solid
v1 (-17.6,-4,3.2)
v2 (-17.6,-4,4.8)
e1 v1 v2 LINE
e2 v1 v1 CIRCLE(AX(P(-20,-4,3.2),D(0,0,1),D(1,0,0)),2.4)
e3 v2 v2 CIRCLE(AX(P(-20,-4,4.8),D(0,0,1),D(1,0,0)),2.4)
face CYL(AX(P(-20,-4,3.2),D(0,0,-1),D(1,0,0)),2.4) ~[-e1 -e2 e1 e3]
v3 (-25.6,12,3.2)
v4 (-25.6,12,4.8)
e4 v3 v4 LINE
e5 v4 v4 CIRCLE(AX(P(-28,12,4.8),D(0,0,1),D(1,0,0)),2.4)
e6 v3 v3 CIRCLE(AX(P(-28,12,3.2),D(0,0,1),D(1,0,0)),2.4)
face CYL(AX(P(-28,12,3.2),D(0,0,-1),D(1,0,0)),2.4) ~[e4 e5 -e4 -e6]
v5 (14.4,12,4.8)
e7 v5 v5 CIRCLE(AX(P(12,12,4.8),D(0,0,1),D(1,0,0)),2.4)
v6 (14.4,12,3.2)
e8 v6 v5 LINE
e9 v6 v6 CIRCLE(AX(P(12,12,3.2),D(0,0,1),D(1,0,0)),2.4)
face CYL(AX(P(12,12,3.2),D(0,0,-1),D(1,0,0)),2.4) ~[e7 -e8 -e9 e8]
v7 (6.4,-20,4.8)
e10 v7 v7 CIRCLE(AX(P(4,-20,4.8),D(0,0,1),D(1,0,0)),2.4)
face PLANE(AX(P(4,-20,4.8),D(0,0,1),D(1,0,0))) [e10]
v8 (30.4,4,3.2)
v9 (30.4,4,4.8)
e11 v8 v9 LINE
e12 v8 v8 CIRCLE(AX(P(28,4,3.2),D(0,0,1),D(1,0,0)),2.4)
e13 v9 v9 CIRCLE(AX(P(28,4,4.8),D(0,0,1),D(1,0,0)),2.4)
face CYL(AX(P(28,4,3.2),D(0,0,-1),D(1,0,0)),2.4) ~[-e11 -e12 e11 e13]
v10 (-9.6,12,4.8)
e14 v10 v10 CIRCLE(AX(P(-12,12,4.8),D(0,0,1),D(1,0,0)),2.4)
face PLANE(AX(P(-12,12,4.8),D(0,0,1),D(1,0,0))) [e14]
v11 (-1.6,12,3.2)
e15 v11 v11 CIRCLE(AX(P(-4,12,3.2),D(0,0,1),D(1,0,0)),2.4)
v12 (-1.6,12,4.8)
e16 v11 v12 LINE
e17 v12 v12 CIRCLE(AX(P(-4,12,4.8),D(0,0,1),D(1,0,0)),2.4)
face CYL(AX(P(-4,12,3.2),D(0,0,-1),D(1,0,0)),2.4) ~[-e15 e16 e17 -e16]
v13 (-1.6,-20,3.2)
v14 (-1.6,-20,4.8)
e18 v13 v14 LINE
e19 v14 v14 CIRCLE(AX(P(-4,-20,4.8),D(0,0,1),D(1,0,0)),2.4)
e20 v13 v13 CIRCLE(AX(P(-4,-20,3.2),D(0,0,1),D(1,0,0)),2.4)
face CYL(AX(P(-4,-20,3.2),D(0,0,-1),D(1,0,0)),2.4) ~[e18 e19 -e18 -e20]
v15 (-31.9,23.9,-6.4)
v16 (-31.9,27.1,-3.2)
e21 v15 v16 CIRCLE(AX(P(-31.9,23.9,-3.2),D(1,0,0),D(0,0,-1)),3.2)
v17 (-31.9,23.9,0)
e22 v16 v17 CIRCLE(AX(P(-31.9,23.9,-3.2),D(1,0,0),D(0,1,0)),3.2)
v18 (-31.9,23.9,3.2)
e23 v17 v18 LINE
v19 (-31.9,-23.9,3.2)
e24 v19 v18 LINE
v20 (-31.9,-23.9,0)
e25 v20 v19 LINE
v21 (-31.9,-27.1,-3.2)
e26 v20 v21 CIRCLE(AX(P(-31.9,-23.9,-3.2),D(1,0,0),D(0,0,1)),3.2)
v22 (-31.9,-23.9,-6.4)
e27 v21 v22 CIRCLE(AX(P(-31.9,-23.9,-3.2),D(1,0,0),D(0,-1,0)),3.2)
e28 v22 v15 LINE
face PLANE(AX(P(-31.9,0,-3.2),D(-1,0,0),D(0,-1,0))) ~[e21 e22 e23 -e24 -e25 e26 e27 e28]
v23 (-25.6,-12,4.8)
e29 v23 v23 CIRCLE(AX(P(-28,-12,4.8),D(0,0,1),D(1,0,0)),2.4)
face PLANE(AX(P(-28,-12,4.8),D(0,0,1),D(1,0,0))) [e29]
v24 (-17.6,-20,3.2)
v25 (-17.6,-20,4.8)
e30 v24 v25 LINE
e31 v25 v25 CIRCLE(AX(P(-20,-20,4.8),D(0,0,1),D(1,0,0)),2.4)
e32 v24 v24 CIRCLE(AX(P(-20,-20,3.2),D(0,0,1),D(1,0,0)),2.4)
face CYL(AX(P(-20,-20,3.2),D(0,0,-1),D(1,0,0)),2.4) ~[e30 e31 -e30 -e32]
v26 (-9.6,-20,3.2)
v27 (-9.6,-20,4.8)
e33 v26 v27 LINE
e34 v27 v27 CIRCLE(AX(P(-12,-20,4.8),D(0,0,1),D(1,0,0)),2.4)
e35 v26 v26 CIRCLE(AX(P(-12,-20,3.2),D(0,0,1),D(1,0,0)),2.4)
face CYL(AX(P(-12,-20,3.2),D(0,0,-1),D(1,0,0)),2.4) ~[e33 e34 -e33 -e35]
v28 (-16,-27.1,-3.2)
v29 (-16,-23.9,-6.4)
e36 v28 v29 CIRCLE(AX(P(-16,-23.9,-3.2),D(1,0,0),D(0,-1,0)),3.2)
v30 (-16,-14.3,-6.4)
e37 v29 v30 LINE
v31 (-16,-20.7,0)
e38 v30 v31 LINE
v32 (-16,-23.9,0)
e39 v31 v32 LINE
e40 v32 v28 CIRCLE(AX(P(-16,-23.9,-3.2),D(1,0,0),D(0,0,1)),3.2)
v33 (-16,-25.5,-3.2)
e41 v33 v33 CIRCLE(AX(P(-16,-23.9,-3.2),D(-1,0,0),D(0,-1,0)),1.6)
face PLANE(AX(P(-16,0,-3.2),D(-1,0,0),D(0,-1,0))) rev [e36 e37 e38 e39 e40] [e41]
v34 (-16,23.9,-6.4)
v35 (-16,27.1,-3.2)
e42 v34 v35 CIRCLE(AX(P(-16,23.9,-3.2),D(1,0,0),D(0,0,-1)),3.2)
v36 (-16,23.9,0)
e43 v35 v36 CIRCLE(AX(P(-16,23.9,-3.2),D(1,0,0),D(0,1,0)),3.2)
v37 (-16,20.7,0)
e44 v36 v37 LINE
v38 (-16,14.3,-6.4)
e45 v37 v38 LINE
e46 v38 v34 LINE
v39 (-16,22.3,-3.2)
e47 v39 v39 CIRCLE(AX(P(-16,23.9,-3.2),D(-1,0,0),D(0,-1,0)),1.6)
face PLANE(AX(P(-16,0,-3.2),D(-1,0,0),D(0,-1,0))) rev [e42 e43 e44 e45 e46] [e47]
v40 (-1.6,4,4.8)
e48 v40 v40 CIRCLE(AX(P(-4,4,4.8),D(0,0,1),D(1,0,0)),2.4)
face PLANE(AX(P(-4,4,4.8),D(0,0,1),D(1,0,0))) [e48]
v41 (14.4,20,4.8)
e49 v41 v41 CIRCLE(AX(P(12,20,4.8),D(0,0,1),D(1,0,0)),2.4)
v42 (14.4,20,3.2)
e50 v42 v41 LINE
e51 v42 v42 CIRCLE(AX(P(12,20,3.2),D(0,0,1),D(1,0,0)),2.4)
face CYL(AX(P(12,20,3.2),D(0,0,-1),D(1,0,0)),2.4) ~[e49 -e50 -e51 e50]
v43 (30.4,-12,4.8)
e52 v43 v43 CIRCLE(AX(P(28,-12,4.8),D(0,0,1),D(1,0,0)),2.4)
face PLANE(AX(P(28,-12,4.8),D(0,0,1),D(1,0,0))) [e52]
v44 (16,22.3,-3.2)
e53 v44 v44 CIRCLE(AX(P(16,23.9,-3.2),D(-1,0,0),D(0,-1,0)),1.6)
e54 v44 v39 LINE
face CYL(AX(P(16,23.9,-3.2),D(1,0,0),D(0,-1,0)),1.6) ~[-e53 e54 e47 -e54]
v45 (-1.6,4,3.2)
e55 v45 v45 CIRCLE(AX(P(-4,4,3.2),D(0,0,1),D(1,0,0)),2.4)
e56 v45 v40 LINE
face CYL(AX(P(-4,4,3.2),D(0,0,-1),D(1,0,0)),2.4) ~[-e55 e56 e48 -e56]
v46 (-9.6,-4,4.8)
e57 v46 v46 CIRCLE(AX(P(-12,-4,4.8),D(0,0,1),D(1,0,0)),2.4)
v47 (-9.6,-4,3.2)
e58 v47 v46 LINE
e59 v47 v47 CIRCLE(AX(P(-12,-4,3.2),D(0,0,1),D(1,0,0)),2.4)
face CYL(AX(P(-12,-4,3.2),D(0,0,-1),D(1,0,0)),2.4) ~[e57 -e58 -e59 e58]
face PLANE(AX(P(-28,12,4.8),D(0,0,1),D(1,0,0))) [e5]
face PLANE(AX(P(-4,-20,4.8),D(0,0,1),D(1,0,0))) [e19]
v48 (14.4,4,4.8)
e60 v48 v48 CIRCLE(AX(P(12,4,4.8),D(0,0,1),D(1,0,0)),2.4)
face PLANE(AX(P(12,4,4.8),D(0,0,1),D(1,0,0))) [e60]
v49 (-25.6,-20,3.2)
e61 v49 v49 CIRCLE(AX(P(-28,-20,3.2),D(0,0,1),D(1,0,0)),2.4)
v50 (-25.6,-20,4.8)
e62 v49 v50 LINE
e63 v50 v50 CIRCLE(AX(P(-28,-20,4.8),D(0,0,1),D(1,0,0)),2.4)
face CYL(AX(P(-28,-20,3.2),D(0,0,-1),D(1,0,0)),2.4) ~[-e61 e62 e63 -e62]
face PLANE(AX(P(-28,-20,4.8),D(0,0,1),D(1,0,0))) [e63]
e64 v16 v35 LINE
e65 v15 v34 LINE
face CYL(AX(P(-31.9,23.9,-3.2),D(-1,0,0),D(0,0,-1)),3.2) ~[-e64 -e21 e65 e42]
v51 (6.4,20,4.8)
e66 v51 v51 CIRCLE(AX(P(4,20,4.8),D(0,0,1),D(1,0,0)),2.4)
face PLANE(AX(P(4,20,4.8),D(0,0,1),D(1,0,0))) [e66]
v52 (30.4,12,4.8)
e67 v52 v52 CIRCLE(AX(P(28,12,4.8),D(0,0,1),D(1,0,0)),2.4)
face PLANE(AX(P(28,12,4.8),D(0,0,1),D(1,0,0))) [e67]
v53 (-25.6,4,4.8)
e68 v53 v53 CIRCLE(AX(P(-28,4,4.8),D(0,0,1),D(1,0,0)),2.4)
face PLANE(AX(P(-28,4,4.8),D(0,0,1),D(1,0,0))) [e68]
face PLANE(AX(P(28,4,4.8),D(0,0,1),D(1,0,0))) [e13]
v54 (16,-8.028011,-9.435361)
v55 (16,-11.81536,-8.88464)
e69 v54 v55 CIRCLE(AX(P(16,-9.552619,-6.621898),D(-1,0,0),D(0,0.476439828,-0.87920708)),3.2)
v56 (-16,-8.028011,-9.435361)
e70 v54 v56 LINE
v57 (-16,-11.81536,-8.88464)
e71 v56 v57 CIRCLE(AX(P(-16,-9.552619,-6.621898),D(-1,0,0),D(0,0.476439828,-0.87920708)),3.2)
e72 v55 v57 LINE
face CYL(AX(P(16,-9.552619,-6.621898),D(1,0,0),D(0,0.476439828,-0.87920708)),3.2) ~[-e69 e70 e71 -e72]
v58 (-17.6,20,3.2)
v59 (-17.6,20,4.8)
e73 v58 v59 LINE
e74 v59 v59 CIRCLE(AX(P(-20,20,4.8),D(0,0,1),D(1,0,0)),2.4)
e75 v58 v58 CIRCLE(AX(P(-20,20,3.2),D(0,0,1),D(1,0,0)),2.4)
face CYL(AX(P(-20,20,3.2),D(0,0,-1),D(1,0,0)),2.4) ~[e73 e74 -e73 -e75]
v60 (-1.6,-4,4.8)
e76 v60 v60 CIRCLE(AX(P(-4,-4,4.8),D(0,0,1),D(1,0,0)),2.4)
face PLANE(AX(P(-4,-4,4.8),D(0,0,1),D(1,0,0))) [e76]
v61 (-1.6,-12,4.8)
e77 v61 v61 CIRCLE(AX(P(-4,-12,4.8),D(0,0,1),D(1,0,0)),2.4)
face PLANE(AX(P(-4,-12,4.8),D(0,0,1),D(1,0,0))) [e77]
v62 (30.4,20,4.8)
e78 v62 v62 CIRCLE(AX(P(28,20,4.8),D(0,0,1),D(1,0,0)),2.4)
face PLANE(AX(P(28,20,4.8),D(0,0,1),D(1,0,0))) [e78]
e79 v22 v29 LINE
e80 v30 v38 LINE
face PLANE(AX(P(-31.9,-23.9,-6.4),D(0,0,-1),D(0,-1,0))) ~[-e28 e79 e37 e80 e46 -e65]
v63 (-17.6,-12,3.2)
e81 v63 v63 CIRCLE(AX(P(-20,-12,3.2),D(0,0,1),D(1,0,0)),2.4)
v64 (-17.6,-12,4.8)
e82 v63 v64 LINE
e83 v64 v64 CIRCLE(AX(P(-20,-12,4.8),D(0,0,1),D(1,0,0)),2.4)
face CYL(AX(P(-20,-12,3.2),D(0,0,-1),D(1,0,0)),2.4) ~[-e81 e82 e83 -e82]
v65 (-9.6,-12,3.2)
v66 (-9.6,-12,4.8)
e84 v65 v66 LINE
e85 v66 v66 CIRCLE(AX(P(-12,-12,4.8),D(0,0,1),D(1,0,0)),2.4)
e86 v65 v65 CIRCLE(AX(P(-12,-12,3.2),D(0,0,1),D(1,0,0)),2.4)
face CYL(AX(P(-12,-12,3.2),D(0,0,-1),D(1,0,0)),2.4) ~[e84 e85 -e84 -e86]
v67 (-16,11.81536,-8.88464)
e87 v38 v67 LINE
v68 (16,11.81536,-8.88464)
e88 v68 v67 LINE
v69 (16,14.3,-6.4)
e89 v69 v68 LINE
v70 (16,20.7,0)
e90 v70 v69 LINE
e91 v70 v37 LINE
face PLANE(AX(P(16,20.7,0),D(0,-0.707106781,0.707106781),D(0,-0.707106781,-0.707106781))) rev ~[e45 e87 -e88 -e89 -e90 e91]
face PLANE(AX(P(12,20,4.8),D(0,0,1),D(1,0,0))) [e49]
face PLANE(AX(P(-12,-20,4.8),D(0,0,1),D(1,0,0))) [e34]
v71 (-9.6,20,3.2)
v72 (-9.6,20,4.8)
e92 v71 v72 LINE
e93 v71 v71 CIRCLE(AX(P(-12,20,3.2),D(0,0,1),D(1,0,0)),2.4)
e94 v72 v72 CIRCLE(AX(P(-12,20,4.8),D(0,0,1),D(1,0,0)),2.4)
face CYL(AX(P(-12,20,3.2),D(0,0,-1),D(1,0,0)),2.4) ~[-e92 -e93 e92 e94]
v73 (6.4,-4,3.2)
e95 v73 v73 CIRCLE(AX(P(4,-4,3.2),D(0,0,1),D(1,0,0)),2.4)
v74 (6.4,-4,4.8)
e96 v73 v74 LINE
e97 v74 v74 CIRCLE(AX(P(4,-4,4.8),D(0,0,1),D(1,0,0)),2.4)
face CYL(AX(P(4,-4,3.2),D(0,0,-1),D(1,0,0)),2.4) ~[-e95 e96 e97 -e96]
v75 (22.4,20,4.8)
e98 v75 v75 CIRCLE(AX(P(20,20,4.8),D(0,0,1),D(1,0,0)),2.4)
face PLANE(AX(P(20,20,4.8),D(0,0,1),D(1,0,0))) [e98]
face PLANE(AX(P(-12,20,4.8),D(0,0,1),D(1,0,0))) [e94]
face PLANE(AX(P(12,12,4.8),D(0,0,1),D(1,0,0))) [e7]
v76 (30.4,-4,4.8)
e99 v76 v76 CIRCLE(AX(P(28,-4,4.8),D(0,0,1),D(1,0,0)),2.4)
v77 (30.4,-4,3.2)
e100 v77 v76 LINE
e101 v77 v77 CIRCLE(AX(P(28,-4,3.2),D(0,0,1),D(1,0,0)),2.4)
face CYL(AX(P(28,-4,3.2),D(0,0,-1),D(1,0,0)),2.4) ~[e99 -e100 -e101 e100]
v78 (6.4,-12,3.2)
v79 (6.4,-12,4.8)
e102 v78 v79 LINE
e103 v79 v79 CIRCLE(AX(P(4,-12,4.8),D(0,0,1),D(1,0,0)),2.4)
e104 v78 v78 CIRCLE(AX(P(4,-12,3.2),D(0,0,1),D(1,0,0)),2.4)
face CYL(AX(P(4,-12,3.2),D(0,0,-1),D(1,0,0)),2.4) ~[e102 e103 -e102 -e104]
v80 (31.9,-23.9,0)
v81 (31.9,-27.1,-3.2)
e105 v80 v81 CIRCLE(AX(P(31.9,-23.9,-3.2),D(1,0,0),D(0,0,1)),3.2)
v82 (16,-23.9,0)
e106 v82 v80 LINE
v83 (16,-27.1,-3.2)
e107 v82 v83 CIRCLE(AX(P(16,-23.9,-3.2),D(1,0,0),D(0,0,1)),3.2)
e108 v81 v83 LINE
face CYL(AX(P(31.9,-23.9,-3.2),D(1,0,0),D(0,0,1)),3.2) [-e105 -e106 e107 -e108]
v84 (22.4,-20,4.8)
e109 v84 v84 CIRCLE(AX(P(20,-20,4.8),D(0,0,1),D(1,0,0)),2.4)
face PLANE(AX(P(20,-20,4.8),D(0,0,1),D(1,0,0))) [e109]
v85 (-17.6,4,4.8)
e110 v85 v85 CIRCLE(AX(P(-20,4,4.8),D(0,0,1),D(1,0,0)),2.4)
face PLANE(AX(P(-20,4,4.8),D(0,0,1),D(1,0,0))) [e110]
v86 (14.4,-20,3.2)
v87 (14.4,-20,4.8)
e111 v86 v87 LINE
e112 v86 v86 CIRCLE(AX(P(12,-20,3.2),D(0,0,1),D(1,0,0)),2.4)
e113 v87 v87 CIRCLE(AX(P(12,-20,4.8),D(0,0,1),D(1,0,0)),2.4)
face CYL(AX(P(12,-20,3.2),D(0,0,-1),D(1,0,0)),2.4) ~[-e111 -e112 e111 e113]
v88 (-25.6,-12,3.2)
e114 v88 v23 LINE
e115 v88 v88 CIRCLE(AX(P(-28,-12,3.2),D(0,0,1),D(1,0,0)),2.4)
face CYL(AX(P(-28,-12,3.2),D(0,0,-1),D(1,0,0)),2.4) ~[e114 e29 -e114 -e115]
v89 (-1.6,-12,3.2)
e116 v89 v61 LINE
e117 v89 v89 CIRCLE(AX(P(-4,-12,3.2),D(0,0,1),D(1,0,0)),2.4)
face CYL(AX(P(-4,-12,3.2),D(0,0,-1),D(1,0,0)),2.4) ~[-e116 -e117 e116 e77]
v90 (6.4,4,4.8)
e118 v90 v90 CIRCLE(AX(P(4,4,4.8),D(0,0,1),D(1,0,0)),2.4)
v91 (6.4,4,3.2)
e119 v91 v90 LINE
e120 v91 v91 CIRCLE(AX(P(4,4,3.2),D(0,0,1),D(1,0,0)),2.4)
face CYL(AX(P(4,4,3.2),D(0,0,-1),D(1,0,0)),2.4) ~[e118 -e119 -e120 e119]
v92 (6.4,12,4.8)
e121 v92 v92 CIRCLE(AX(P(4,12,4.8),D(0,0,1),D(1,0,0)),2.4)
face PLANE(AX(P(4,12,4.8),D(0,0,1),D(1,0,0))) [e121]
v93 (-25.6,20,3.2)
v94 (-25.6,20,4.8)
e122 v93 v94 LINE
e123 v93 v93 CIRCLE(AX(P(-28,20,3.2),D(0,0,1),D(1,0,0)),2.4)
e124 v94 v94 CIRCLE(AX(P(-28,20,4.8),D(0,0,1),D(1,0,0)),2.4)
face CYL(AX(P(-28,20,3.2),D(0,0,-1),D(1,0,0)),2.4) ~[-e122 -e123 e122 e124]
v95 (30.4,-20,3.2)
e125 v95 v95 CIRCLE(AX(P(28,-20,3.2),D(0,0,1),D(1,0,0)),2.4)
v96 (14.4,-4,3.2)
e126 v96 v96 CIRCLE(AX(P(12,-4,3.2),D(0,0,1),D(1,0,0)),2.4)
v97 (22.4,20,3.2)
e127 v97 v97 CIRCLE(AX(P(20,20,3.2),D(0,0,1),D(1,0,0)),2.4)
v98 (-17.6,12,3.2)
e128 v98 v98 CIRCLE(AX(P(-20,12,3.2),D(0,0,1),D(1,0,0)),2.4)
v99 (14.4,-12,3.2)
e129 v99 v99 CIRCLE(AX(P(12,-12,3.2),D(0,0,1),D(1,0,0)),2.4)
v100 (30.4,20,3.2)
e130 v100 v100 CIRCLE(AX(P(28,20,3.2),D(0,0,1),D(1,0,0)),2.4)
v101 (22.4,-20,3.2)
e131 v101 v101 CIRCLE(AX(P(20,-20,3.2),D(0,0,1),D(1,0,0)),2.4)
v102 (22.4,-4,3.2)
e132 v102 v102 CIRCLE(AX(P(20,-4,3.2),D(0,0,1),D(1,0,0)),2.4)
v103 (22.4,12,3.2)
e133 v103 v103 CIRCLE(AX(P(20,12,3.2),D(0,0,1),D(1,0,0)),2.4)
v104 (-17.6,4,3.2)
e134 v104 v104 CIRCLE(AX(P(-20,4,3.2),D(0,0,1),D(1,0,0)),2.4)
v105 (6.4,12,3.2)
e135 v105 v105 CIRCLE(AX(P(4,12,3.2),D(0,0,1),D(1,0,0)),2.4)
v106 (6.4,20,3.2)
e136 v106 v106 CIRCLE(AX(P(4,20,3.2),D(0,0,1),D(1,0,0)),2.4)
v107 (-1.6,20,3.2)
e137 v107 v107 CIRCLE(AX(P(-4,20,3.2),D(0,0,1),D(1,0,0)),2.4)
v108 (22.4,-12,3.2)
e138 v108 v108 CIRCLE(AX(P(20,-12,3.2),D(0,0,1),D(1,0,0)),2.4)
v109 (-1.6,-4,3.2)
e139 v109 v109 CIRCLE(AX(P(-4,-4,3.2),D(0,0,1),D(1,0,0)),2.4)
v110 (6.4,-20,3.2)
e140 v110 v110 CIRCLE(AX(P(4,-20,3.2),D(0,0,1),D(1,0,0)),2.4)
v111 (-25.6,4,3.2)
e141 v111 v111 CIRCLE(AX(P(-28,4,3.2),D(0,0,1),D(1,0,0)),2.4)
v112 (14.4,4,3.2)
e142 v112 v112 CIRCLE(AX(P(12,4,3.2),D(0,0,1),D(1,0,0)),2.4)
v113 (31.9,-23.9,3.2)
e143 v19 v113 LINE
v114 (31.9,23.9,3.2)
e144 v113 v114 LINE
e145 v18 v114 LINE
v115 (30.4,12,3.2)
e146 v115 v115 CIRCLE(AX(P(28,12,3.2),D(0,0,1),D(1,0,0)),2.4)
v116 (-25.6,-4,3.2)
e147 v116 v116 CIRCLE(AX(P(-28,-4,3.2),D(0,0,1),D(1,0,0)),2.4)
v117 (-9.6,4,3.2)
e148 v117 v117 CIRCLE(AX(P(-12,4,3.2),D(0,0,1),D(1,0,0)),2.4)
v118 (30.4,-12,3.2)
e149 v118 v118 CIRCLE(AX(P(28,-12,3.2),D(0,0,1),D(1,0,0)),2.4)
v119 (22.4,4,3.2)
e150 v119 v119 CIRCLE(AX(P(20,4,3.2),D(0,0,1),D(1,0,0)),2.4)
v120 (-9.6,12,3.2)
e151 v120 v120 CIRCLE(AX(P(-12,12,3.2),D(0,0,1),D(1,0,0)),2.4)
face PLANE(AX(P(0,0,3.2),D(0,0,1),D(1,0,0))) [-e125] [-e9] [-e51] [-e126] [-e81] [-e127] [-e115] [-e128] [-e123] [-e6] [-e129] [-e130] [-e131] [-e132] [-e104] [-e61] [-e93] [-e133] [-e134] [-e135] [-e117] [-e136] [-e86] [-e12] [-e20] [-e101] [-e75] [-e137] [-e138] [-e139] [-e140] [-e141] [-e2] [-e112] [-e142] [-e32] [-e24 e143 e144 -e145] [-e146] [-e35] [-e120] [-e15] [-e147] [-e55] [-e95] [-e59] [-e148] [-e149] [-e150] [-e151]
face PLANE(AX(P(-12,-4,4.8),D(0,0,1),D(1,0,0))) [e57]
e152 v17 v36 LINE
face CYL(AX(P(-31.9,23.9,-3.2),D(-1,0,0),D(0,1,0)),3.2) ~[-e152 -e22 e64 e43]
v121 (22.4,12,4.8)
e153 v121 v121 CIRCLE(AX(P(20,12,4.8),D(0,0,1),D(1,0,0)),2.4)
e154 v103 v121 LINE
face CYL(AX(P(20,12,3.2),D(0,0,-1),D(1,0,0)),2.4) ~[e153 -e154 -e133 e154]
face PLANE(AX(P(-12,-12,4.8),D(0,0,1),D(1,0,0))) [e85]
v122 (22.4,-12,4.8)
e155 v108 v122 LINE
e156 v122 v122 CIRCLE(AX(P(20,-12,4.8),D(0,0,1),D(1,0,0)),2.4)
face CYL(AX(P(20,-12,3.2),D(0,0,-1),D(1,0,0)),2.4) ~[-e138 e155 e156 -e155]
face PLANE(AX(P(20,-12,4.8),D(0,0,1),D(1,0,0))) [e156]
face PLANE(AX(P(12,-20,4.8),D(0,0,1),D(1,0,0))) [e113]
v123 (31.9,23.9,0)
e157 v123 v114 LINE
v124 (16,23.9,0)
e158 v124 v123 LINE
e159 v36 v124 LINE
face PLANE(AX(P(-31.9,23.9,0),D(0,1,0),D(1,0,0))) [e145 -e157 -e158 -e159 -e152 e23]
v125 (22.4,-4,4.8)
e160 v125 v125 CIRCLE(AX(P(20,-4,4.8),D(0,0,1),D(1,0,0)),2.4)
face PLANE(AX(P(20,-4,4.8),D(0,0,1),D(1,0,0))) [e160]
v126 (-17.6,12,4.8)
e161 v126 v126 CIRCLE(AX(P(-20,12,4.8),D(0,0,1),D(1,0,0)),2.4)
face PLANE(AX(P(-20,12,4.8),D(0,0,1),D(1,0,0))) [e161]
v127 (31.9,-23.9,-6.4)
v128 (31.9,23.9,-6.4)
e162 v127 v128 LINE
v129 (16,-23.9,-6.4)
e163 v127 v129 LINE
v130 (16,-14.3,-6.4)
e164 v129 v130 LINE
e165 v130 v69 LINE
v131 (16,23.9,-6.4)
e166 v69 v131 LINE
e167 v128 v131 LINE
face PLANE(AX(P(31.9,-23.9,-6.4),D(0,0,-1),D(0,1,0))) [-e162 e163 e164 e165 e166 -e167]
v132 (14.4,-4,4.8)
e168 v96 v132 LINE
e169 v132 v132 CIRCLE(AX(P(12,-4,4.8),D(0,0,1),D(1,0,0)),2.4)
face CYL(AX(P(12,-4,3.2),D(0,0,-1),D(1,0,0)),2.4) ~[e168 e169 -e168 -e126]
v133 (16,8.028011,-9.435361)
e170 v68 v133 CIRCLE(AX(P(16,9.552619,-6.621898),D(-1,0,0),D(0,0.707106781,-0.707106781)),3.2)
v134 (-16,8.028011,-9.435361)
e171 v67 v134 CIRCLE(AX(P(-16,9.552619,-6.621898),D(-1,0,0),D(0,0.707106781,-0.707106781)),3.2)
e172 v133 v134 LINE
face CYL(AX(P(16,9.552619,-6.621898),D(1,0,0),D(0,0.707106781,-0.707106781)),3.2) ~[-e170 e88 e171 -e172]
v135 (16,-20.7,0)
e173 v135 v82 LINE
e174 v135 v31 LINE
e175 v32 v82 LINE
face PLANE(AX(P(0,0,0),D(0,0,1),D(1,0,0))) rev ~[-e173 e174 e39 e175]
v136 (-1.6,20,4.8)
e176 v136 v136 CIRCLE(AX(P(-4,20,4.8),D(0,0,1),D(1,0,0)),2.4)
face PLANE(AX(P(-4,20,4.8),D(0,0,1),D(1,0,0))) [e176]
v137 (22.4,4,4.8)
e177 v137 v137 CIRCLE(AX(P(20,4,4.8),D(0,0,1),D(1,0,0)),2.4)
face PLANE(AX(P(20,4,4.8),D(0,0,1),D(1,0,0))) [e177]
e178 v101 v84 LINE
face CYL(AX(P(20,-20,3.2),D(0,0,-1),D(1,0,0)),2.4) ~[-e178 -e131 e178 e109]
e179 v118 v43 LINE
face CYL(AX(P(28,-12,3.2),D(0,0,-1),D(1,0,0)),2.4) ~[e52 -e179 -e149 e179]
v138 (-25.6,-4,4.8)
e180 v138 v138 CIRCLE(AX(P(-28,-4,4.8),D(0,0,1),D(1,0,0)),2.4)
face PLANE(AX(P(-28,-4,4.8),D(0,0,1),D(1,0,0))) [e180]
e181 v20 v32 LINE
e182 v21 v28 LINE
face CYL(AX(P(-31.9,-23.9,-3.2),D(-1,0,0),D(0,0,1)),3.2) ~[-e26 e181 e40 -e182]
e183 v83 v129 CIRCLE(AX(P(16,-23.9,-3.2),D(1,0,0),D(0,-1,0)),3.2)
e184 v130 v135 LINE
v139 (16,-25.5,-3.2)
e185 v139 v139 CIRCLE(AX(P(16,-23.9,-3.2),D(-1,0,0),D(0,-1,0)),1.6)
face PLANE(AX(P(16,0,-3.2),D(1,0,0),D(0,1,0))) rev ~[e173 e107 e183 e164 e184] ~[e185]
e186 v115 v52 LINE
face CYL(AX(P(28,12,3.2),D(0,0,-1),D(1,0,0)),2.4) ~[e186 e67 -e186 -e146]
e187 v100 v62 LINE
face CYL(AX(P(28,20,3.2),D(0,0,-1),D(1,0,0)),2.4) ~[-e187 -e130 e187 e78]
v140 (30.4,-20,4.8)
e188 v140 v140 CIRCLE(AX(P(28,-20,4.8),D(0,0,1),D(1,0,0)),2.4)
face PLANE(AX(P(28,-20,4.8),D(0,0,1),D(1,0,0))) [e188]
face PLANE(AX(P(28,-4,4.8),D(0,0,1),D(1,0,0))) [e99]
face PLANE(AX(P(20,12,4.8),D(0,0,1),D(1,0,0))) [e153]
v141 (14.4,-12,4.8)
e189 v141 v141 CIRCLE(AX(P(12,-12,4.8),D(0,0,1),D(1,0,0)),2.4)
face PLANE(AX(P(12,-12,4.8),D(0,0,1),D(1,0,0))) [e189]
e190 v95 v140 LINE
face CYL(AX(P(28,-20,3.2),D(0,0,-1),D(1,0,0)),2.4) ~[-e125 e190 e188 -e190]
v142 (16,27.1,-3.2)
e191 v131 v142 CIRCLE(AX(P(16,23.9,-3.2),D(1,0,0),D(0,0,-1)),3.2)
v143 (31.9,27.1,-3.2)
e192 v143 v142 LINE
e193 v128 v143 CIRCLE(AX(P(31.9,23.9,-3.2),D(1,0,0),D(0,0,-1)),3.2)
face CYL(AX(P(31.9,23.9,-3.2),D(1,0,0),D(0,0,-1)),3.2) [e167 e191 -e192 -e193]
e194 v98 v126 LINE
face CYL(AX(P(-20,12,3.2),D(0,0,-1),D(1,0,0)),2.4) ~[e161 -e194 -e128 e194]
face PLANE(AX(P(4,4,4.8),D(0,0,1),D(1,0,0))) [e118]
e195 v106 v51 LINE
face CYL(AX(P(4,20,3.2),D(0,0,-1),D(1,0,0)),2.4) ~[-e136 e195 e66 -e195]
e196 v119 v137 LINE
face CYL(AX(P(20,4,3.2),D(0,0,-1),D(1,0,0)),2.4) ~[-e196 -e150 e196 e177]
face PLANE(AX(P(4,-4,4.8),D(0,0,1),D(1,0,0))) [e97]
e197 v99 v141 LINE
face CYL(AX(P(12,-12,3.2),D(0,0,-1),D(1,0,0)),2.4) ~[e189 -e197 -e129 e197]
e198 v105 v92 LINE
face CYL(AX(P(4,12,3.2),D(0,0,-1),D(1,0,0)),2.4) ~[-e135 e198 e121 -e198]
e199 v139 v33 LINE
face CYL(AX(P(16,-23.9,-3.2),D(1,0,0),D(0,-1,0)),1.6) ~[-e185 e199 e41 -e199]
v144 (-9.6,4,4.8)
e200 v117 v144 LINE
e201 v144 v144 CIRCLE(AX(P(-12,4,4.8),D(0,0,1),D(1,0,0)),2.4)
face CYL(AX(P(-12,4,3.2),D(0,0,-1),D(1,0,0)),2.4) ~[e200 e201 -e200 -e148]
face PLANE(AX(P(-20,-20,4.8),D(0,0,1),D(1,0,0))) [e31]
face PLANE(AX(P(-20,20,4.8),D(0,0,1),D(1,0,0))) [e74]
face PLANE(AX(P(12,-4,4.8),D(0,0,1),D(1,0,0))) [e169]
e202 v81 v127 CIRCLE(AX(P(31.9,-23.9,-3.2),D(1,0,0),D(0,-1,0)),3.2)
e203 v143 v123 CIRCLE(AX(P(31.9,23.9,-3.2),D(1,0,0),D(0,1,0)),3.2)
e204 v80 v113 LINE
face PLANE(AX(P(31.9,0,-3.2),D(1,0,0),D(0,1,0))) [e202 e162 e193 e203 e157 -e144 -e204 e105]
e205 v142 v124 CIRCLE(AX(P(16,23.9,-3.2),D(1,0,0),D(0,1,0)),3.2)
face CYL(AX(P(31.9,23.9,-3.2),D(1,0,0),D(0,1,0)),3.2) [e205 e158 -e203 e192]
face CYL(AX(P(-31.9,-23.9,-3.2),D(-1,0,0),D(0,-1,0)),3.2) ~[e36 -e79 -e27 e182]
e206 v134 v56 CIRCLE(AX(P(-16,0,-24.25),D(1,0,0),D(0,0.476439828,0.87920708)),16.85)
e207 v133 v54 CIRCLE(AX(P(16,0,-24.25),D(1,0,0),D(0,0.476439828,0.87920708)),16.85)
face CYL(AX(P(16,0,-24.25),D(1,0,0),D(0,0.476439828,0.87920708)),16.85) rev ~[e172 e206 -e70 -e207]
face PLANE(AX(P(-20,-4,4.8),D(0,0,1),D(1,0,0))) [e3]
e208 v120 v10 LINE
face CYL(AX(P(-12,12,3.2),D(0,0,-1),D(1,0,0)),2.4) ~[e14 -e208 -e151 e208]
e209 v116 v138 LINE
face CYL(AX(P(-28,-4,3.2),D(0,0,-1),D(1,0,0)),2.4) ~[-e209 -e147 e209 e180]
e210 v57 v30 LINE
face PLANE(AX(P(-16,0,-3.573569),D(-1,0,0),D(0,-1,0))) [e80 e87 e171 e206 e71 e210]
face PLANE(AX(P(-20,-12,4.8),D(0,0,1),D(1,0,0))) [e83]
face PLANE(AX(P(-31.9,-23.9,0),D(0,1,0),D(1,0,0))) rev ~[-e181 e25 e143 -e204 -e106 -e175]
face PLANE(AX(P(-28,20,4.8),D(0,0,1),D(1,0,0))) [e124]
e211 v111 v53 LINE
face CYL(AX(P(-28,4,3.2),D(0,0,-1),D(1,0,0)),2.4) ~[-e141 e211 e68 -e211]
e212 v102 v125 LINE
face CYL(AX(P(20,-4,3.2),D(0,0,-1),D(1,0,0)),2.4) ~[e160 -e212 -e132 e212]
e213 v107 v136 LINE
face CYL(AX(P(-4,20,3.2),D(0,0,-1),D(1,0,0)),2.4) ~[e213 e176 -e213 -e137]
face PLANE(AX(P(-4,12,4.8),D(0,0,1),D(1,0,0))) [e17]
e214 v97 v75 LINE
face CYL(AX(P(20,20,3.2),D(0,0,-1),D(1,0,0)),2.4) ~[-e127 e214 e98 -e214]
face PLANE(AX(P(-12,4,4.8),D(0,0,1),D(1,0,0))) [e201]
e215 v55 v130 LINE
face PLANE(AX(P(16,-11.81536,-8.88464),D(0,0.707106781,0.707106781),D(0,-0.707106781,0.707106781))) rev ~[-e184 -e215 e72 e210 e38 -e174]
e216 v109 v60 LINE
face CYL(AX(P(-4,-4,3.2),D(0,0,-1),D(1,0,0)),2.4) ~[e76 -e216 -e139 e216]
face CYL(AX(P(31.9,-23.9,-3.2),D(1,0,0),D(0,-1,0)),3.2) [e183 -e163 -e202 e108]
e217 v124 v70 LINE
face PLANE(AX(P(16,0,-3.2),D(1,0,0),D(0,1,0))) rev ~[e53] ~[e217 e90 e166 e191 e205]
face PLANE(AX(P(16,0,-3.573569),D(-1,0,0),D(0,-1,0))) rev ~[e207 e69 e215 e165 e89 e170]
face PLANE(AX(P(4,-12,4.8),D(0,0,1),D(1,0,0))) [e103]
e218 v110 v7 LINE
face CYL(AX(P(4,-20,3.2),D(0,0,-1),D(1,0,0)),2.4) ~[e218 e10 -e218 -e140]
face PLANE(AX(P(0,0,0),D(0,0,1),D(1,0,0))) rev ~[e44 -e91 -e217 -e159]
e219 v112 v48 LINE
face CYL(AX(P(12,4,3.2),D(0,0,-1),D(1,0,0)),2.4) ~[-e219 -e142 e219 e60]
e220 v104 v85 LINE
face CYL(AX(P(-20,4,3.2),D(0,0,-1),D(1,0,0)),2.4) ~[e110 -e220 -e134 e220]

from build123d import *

# Parameters (mm, degrees)
F0_W     = 63.8
F0_H     = 47.8
F1_DEPTH = 3.2
F2_R     = 2.4
F3_DEPTH = 1.6
F6_DEPTH = 15.9
F8_R     = 1.6
F9_DEPTH = 32


with BuildPart() as f1:
    # F0 (on Top) → F1 (new body)
    with BuildSketch(Plane.XY):
        Rectangle(F0_W, F0_H)
    extrude(amount=F1_DEPTH)

    # F2 (on face) → F3 (join)
    with BuildSketch(Plane.XY.offset(3.2)):
        with Locations((-28, 20)):
            Circle(F2_R)
        with Locations((-28, 12)):
            Circle(F2_R)
        with Locations((-28, 4)):
            Circle(F2_R)
        with Locations((-28, -4)):
            Circle(F2_R)
        with Locations((-28, -12)):
            Circle(F2_R)
        with Locations((-28, -20)):
            Circle(F2_R)
        with Locations((-20, 20)):
            Circle(F2_R)
        with Locations((-20, 12)):
            Circle(F2_R)
        with Locations((-20, 4)):
            Circle(F2_R)
        with Locations((-20, -4)):
            Circle(F2_R)
        with Locations((-20, -12)):
            Circle(F2_R)
        with Locations((-20, -20)):
            Circle(F2_R)
        with Locations((-12, 20)):
            Circle(F2_R)
        with Locations((-12, 12)):
            Circle(F2_R)
        with Locations((-12, 4)):
            Circle(F2_R)
        with Locations((-12, -4)):
            Circle(F2_R)
        with Locations((-12, -12)):
            Circle(F2_R)
        with Locations((-12, -20)):
            Circle(F2_R)
        with Locations((-4, 20)):
            Circle(F2_R)
        with Locations((-4, 12)):
            Circle(F2_R)
        with Locations((-4, 4)):
            Circle(F2_R)
        with Locations((-4, -4)):
            Circle(F2_R)
        with Locations((-4, -12)):
            Circle(F2_R)
        with Locations((-4, -20)):
            Circle(F2_R)
        with Locations((4, 20)):
            Circle(F2_R)
        with Locations((4, 12)):
            Circle(F2_R)
        with Locations((4, 4)):
            Circle(F2_R)
        with Locations((4, -4)):
            Circle(F2_R)
        with Locations((4, -12)):
            Circle(F2_R)
        with Locations((4, -20)):
            Circle(F2_R)
        with Locations((12, 20)):
            Circle(F2_R)
        with Locations((12, 12)):
            Circle(F2_R)
        with Locations((12, 4)):
            Circle(F2_R)
        with Locations((12, -4)):
            Circle(F2_R)
        with Locations((12, -12)):
            Circle(F2_R)
        with Locations((12, -20)):
            Circle(F2_R)
        with Locations((20, 20)):
            Circle(F2_R)
        with Locations((20, 12)):
            Circle(F2_R)
        with Locations((20, 4)):
            Circle(F2_R)
        with Locations((20, -4)):
            Circle(F2_R)
        with Locations((20, -12)):
            Circle(F2_R)
        with Locations((20, -20)):
            Circle(F2_R)
        with Locations((28, 20)):
            Circle(F2_R)
        with Locations((28, 12)):
            Circle(F2_R)
        with Locations((28, 4)):
            Circle(F2_R)
        with Locations((28, -4)):
            Circle(F2_R)
        with Locations((28, -12)):
            Circle(F2_R)
        with Locations((28, -20)):
            Circle(F2_R)
    extrude(amount=F3_DEPTH)

    # F7: F6 across plane


with BuildPart() as f6:
    # F5 (on face) → F6 (new body, through all)
    with BuildSketch(Plane.YZ.offset(31.9)):
        with BuildLine():
            ThreePointArc((27.1, -3.2), (26.1627416998, -0.9372583002), (23.9, 0))
            Line((23.9, 0), (-23.9, 0))
            ThreePointArc((-23.9, 0), (-26.1627416998, -0.9372583002), (-27.1, -3.2))
            ThreePointArc((-27.1, -3.2), (-26.1627416998, -5.4627416998), (-23.9, -6.4))
            Line((-23.9, -6.4), (23.9, -6.4))
            ThreePointArc((23.9, -6.4), (26.1627416998, -5.4627416998), (27.1, -3.2))
        make_face()
    extrude(amount=-F6_DEPTH)


with BuildPart() as f1_1:
    add(f1.part)
    add(f6.part.mirror(Plane.YZ))


    add(f6.part)  # F9 merges F6
    # F8 (on face) → F9 (join, through all)
    with BuildSketch(Plane(origin=(16, 0, 0), x_dir=(0, -1, 0), z_dir=(-1, 0, 0))):
        with Locations((-23.9, -3.2)):
            Circle(F8_R)
        with Locations((23.9, -3.2)):
            Circle(F8_R)
        with BuildLine():
            Line((20.7, 0), (-20.7, 0))
            Line((-20.7, 0), (-11.8153602589, -8.8846397411))
            ThreePointArc((-11.8153602589, -8.8846397411), (-10.0130899865, -9.7885944374), (-8.0280111082, -9.4353606981))
            ThreePointArc((-8.0280111082, -9.4353606981), (0, -7.4), (8.0280111082, -9.4353606981))
            ThreePointArc((8.0280111082, -9.4353606981), (10.0130899865, -9.7885944374), (11.8153602589, -8.8846397411))
            Line((11.8153602589, -8.8846397411), (20.7, 0))
        make_face()
    extrude(amount=F9_DEPTH)


solid = f1_1.part
